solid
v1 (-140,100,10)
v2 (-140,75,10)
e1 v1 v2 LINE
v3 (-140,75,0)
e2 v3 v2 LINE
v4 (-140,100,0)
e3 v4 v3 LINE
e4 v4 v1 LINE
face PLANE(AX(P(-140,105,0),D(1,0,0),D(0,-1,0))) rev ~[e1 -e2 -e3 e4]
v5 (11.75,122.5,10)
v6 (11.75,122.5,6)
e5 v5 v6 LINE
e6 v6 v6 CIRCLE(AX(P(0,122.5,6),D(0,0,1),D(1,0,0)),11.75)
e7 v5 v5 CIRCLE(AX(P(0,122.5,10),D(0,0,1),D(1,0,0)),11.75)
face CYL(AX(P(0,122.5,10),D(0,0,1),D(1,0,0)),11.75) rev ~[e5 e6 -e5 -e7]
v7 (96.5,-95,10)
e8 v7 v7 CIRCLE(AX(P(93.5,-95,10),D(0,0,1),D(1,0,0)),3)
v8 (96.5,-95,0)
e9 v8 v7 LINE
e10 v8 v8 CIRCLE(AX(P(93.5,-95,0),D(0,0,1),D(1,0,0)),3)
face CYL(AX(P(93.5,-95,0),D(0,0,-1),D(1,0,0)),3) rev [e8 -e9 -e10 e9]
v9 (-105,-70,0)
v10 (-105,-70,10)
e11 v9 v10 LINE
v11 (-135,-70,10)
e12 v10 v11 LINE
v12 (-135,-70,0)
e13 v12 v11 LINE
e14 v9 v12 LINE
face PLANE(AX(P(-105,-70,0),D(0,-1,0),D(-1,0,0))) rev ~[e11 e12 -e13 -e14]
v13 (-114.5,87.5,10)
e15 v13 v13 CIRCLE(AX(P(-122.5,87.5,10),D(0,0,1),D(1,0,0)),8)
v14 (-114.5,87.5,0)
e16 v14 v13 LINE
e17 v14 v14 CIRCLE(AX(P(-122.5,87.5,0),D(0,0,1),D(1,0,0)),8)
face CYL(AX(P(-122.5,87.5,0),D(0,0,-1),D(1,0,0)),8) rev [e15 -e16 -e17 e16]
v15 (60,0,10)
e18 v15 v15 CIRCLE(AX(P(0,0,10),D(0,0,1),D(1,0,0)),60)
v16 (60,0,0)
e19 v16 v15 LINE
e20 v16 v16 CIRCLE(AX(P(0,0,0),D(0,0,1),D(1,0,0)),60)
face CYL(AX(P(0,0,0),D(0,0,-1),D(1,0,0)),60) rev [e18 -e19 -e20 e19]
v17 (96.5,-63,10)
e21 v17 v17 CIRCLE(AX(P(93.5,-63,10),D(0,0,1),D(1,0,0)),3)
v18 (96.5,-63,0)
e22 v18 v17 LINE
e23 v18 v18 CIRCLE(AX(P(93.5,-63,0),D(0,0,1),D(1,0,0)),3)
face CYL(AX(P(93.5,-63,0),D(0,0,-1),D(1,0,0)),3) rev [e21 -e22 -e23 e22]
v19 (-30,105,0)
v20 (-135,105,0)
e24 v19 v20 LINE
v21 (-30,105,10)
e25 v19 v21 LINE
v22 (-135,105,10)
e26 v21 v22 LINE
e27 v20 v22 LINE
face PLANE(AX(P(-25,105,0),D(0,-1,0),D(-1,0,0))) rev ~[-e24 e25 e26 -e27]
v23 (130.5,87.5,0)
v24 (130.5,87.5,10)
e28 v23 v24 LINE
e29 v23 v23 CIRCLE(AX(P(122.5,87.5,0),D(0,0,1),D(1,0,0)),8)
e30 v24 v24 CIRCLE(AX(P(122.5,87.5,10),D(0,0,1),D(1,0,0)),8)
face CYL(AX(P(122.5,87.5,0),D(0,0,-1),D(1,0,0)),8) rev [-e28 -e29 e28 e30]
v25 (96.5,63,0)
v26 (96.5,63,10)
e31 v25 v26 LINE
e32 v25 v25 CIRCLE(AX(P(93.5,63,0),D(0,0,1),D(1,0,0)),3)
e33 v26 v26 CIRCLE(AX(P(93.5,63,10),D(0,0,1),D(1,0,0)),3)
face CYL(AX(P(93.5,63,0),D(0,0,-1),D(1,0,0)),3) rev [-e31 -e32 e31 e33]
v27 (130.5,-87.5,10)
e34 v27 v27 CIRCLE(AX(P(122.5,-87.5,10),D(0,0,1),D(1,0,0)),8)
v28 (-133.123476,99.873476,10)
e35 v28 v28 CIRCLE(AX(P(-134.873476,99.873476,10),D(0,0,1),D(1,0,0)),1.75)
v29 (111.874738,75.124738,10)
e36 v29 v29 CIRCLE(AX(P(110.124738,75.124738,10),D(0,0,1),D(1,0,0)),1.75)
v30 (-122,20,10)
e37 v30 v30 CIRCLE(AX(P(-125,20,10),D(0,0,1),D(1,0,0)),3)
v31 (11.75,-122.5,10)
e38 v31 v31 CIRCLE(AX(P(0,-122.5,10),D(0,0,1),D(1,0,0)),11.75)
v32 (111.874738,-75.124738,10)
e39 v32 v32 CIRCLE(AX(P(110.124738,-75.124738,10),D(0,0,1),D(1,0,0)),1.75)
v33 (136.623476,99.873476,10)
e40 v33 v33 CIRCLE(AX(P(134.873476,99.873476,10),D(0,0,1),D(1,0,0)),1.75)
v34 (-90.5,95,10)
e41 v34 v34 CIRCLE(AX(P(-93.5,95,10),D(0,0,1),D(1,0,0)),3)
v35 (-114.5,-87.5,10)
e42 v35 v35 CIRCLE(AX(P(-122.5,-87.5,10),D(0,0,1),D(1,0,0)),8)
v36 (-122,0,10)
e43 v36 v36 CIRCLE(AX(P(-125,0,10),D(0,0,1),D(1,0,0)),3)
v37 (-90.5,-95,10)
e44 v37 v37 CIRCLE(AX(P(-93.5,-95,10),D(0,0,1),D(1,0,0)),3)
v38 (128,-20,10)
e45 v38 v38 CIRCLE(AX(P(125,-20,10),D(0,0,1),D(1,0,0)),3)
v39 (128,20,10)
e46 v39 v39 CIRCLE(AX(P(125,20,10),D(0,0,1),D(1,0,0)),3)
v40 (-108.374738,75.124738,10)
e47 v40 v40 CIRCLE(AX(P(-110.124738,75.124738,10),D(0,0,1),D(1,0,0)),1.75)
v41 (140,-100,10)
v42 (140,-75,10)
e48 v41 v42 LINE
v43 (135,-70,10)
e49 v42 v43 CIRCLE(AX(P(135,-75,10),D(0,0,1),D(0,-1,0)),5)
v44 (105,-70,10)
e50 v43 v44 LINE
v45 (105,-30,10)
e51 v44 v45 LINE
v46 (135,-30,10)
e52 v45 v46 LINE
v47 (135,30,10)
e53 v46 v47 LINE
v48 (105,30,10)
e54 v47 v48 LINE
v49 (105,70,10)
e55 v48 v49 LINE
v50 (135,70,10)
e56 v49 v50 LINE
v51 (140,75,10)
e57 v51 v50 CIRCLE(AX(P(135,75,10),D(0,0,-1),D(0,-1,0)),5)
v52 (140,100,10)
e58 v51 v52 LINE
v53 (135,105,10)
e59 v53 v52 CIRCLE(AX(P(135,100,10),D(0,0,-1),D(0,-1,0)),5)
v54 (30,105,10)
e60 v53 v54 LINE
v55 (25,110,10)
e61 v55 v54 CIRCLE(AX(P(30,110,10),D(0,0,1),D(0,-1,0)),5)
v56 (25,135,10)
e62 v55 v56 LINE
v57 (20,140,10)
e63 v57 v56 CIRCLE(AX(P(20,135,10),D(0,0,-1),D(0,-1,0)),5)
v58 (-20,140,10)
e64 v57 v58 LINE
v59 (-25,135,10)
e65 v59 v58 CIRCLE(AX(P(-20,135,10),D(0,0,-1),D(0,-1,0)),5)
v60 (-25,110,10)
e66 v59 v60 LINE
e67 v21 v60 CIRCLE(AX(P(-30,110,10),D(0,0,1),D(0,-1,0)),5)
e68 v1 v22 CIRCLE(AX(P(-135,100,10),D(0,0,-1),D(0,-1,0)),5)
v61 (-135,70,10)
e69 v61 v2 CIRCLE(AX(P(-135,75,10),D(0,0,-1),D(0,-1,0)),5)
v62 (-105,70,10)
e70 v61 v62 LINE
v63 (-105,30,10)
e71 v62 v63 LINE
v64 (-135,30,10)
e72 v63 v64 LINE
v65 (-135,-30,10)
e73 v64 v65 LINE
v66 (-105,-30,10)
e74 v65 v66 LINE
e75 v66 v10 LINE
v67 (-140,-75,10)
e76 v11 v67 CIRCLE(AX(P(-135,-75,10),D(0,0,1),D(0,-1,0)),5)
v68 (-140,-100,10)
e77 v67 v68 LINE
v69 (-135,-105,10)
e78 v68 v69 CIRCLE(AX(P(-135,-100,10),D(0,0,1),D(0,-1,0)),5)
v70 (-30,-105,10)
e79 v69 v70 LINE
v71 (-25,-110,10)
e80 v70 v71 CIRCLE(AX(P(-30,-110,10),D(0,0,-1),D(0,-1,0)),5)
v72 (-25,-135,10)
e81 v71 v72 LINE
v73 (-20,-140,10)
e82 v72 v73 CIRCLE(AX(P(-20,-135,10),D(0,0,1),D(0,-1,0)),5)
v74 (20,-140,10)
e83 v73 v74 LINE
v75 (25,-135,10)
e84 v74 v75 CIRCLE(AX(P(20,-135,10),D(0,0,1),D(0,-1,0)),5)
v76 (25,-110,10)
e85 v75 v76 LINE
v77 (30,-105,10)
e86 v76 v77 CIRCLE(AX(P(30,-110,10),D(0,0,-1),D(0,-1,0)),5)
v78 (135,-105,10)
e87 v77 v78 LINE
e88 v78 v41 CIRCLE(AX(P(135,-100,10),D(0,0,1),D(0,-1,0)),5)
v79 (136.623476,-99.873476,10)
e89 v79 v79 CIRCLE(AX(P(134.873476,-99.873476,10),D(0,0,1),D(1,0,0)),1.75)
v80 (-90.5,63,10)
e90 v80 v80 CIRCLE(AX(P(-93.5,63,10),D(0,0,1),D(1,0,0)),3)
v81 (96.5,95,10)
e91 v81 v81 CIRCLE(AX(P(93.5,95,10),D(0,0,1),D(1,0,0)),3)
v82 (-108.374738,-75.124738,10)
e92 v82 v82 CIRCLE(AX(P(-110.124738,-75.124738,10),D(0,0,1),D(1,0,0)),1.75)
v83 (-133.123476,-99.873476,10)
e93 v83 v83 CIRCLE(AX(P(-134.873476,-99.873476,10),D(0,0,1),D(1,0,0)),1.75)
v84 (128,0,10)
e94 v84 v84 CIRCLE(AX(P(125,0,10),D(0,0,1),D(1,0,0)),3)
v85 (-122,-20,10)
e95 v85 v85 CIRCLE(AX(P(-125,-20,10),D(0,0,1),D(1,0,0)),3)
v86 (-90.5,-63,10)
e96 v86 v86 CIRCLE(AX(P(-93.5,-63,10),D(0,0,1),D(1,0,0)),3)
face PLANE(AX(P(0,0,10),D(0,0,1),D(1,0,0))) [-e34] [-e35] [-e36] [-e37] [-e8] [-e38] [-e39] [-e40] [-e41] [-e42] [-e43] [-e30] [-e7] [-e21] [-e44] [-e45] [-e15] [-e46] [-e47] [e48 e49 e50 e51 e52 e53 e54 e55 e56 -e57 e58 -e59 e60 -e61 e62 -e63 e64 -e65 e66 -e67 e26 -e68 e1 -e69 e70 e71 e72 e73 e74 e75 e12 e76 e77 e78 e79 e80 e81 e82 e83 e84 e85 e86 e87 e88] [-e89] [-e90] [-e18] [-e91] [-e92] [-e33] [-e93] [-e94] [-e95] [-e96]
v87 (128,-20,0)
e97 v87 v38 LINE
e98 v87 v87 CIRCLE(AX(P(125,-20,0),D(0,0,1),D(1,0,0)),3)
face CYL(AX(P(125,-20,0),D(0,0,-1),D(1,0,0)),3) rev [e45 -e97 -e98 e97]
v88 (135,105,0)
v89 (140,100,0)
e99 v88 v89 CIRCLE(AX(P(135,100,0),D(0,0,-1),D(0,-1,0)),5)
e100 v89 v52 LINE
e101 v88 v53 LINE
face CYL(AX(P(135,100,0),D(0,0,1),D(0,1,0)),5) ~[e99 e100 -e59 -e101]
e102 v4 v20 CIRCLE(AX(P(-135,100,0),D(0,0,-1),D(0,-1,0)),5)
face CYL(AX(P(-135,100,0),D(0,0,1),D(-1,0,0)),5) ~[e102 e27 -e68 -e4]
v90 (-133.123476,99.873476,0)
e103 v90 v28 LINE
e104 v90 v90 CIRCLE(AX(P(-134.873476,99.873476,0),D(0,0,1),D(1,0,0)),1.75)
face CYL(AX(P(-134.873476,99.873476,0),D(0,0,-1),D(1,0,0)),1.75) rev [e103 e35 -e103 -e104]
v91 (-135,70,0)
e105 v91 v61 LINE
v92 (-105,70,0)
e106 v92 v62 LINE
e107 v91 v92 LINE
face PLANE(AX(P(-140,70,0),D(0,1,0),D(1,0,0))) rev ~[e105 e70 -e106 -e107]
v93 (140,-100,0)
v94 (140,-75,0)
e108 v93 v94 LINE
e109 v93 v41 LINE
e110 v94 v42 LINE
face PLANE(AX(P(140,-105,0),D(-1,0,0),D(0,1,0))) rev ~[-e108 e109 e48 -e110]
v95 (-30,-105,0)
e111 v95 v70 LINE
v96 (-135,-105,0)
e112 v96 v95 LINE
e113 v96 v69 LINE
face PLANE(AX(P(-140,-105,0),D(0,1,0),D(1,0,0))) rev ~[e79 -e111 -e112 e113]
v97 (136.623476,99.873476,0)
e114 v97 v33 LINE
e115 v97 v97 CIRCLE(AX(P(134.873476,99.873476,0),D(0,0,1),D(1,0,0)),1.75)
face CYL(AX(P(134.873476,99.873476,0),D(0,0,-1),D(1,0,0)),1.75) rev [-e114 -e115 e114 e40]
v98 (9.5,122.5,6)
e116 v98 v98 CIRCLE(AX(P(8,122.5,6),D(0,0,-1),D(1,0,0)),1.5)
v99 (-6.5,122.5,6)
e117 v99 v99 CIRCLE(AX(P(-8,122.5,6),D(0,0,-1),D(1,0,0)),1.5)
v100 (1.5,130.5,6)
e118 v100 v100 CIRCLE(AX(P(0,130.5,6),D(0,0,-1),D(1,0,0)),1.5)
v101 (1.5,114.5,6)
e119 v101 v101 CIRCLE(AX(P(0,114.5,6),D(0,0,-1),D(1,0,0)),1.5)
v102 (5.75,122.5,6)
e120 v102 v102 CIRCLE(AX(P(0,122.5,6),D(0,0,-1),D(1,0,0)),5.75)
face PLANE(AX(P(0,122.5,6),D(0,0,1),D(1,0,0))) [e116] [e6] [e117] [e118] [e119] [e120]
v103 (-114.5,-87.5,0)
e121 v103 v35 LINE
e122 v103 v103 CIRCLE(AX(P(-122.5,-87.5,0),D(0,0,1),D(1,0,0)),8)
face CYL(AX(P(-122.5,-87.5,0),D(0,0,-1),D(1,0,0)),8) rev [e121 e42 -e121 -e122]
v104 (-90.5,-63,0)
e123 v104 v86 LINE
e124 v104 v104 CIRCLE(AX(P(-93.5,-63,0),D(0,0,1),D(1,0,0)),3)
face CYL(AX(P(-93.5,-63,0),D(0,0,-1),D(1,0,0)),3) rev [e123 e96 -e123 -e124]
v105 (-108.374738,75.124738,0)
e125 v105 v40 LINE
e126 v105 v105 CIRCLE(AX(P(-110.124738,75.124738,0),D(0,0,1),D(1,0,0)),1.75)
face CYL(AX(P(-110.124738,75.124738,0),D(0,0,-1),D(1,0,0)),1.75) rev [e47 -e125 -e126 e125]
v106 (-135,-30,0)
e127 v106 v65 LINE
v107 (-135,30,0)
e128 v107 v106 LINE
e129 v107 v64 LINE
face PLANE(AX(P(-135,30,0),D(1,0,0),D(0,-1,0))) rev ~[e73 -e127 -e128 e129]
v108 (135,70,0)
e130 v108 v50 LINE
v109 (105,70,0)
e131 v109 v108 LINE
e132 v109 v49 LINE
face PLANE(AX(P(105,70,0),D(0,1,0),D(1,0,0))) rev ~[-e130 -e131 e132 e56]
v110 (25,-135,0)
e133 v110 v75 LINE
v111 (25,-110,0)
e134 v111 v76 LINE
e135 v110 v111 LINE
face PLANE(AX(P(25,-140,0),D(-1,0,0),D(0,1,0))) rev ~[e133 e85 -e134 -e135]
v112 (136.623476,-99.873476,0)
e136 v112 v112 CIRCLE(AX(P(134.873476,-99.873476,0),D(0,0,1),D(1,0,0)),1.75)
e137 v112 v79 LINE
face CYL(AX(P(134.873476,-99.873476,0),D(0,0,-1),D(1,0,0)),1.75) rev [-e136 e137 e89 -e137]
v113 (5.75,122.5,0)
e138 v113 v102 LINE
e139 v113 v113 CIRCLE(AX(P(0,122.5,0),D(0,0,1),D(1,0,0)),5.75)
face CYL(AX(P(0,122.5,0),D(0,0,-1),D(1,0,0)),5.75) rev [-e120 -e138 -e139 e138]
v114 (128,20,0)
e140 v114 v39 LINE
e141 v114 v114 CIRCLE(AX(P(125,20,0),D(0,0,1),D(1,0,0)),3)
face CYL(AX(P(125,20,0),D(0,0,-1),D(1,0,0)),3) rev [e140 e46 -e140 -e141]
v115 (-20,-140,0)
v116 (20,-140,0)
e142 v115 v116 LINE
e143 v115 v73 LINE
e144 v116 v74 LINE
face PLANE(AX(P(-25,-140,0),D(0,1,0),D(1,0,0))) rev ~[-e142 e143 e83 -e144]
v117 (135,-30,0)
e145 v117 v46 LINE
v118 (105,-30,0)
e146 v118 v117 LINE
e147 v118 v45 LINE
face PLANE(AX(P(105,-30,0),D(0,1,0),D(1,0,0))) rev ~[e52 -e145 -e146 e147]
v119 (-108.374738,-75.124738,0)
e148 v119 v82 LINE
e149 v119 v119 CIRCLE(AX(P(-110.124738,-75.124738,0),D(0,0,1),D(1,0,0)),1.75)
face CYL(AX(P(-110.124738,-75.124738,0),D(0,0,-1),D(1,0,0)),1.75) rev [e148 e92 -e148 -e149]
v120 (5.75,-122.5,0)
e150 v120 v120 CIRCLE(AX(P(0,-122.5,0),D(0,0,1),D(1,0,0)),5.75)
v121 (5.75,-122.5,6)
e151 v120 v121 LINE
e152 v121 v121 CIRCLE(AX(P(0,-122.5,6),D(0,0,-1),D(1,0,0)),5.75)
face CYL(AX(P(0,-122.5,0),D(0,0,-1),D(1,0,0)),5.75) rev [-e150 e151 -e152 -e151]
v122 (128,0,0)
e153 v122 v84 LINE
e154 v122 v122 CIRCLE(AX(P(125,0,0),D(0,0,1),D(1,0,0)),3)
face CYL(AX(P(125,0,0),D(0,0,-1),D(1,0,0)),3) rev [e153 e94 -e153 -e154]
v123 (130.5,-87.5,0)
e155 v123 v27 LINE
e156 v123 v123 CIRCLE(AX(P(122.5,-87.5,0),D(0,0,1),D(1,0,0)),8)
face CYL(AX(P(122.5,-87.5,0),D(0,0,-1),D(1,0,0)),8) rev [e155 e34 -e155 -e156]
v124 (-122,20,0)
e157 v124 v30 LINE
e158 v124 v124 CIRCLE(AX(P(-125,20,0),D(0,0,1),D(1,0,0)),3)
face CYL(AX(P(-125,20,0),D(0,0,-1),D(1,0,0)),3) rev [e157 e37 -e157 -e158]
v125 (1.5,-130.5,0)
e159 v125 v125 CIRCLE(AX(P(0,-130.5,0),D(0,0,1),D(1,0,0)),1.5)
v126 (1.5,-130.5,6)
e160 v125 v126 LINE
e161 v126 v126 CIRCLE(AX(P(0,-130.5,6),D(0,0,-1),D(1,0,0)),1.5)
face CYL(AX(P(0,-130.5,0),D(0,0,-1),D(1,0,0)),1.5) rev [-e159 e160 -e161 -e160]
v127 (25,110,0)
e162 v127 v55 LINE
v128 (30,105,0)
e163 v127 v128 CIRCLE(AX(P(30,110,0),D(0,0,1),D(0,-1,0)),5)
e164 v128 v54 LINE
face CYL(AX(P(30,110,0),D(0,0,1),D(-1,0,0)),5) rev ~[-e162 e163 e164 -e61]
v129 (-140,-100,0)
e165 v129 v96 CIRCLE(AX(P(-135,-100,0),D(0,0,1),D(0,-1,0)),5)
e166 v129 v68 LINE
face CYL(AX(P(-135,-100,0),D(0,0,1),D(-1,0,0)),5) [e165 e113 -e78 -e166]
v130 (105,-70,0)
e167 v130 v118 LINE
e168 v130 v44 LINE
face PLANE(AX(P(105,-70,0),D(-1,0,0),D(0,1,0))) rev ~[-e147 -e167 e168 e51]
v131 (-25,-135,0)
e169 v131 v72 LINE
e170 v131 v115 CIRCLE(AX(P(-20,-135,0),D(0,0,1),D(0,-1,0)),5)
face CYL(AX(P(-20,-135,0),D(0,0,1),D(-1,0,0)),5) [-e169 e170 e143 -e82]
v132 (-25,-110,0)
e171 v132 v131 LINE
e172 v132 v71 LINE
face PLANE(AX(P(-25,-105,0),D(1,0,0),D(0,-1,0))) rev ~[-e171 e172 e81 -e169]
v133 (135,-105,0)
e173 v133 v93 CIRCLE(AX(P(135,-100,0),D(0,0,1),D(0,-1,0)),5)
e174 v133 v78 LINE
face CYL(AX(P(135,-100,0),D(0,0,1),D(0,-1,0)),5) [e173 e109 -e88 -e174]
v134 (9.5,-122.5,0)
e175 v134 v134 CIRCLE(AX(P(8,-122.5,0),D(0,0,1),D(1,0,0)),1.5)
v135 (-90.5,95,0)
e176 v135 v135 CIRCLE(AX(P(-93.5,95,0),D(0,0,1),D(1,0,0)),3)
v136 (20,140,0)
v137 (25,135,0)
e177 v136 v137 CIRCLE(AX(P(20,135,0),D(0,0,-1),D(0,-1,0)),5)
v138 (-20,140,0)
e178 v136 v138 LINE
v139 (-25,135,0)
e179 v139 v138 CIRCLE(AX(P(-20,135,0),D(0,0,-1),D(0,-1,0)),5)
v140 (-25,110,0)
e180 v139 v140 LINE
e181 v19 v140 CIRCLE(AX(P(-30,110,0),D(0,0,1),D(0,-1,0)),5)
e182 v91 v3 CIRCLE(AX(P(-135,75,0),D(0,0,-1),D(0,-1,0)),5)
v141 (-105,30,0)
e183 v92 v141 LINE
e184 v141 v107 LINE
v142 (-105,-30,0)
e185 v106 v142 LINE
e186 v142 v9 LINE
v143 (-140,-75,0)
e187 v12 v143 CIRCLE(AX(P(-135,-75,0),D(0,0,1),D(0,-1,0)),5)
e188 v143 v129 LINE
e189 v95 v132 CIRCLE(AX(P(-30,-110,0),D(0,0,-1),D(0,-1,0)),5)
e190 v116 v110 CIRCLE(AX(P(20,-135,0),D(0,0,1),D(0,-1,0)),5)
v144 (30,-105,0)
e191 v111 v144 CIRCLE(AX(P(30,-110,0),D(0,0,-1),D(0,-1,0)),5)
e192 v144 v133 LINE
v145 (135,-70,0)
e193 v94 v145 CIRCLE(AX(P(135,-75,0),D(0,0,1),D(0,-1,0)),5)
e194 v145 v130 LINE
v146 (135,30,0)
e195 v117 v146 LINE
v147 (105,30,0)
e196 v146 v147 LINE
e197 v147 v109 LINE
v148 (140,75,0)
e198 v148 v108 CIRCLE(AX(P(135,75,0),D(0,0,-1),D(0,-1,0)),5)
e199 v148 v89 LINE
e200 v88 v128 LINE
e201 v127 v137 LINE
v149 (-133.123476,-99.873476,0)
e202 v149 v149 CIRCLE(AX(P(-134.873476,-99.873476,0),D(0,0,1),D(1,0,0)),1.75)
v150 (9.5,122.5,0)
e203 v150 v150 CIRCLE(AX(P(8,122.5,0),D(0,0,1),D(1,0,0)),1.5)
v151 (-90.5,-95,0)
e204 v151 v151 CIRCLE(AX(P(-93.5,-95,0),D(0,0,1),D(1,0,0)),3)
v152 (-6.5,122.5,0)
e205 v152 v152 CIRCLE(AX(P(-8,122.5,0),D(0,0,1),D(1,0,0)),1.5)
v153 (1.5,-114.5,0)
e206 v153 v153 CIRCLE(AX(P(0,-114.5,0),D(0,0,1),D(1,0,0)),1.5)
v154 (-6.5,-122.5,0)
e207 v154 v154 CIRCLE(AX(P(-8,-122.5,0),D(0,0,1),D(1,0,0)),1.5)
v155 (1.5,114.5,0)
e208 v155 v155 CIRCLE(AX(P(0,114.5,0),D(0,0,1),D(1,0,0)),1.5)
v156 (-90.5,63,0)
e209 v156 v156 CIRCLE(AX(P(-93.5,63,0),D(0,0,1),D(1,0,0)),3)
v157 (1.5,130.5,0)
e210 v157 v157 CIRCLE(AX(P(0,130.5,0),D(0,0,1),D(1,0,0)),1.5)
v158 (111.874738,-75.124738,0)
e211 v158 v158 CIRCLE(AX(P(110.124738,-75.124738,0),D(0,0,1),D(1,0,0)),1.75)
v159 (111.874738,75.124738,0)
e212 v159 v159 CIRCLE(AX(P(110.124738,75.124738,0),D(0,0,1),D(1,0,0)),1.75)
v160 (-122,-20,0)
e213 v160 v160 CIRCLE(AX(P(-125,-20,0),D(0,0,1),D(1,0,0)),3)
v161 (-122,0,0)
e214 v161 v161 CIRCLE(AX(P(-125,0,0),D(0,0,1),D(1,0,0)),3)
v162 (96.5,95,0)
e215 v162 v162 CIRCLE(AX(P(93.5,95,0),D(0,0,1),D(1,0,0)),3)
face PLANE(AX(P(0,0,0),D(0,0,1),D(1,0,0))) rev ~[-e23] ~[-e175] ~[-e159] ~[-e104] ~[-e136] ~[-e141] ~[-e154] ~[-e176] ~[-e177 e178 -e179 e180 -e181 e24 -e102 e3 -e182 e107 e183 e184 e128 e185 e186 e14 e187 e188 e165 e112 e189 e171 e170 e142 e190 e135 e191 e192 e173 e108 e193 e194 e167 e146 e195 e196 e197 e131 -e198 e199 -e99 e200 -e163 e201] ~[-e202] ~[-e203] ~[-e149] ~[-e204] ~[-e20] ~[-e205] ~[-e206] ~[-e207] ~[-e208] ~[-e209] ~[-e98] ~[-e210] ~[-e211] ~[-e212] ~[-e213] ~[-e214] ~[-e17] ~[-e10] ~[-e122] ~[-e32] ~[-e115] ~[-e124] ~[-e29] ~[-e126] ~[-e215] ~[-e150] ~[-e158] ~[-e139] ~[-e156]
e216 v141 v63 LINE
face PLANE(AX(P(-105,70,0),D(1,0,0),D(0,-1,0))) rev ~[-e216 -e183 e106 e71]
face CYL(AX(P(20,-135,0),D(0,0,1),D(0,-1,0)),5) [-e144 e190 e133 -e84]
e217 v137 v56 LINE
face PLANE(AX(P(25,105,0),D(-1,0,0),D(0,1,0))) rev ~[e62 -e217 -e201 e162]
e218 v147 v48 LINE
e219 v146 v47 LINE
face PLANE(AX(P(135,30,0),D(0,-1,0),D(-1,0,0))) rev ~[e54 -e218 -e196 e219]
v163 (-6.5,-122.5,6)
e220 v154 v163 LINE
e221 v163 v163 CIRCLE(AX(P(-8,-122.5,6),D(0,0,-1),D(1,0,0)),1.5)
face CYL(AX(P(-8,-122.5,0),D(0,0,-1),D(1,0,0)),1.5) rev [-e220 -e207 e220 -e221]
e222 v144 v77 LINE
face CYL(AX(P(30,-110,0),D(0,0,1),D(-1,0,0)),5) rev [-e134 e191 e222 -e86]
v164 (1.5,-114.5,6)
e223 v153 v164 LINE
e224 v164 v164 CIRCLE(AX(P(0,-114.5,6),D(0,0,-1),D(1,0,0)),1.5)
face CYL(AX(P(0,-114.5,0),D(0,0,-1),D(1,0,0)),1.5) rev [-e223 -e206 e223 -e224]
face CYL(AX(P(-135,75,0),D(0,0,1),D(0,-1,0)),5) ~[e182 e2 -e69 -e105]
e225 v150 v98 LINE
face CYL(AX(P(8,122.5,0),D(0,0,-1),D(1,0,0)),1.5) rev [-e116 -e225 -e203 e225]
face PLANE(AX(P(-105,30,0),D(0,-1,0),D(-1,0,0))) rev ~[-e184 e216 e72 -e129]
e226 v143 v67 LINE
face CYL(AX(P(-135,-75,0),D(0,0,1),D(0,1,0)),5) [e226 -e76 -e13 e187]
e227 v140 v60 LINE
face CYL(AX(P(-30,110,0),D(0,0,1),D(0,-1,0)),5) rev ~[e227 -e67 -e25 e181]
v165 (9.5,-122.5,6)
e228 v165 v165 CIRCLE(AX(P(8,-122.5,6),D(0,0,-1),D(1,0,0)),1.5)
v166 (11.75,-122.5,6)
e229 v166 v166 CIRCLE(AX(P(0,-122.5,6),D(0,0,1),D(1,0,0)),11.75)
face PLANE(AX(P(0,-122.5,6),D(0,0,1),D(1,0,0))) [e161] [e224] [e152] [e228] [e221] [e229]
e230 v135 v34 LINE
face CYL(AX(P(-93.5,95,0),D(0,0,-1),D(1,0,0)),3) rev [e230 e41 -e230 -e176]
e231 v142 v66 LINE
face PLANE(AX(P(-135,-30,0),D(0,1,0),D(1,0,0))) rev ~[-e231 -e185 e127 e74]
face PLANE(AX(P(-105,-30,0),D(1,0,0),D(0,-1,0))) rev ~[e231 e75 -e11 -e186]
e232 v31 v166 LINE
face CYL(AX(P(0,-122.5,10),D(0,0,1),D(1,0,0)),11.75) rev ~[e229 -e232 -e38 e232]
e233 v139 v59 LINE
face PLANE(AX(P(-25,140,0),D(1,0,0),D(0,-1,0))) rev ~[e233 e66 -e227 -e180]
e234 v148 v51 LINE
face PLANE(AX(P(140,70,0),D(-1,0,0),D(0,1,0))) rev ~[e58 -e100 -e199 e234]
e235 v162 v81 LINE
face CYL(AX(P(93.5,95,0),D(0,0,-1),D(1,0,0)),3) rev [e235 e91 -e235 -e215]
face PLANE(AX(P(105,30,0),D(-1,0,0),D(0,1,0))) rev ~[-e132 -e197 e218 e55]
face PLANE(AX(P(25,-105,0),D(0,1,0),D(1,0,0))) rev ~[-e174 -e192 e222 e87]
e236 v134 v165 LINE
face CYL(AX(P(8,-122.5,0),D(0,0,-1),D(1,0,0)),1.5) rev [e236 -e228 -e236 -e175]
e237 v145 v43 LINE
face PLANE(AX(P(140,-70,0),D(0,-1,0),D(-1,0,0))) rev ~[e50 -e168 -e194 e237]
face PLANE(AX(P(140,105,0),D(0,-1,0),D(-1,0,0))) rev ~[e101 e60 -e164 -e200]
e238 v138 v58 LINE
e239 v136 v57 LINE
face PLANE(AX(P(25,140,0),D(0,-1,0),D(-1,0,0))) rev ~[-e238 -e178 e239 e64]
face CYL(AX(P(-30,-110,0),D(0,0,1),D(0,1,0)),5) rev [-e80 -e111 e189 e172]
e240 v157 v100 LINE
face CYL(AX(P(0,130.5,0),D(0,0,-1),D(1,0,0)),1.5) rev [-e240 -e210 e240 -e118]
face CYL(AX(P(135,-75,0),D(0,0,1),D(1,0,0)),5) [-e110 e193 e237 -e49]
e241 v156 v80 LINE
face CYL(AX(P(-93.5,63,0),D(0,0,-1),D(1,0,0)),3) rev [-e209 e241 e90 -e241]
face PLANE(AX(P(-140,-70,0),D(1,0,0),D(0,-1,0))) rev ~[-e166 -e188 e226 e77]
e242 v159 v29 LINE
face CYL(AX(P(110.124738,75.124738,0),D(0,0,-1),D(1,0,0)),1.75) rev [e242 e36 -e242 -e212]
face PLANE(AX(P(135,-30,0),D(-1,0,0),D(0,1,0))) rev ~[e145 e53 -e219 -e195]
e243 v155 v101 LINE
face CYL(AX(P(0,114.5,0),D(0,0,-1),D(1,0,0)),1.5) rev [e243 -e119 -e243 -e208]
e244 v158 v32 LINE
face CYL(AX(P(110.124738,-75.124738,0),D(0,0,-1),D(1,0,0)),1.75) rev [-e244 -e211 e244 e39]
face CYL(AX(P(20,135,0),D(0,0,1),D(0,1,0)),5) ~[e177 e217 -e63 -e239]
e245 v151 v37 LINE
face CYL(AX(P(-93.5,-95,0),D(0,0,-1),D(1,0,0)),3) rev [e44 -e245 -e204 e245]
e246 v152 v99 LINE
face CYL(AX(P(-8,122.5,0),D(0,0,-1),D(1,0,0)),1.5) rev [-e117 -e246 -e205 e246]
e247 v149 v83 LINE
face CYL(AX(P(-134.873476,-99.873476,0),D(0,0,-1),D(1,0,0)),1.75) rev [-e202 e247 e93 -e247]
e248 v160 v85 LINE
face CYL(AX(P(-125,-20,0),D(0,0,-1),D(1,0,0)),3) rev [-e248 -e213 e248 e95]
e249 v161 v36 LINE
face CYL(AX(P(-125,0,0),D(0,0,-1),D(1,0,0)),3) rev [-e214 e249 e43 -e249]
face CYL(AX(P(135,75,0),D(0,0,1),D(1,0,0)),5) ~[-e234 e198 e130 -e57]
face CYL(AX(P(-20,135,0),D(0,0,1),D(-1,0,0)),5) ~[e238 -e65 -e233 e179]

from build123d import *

# Parameters (mm, degrees)
SKETCH_R     = 60
SKETCH_R_2   = 3
SKETCH_R_3   = 8
SKETCH_R_4   = 1.75
SKETCH_R_5   = 5.75
SKETCH_R_6   = 1.5
PAD_DEPTH    = 10
SKETCH001_R  = 11.75
POCKET_DEPTH = 4
FILLET_R     = 5


with BuildPart() as part:
    # Sketch → Pad (new body)
    with BuildSketch(Plane.XY):
        Polygon((-105, 70), (-105, 30), (-135, 30), (-135, -30), (-105, -30), (-105, -70), (-140, -70), (-140, -105), (-105, -105), (-25, -105), (-25, -140), (25, -140), (25, -105), (105, -105), (140, -105), (140, -70), (105, -70), (105, -30), (135, -30), (135, 30), (105, 30), (105, 70), (140, 70), (140, 105), (105, 105), (25, 105), (25, 140), (-25, 140), (-25, 105), (-105, 105), (-140, 105), (-140, 70), align=None)
        Circle(SKETCH_R, mode=Mode.SUBTRACT)
        with Locations((93.5, 95)):
            Circle(SKETCH_R_2, mode=Mode.SUBTRACT)
        with Locations((93.5, 63)):
            Circle(SKETCH_R_2, mode=Mode.SUBTRACT)
        with Locations((93.5, -63)):
            Circle(SKETCH_R_2, mode=Mode.SUBTRACT)
        with Locations((93.5, -95)):
            Circle(SKETCH_R_2, mode=Mode.SUBTRACT)
        with Locations((-93.5, -63)):
            Circle(SKETCH_R_2, mode=Mode.SUBTRACT)
        with Locations((-93.5, -95)):
            Circle(SKETCH_R_2, mode=Mode.SUBTRACT)
        with Locations((-93.5, 95)):
            Circle(SKETCH_R_2, mode=Mode.SUBTRACT)
        with Locations((-93.5, 63)):
            Circle(SKETCH_R_2, mode=Mode.SUBTRACT)
        with Locations((122.5, 87.5)):
            Circle(SKETCH_R_3, mode=Mode.SUBTRACT)
        with Locations((122.5, -87.5)):
            Circle(SKETCH_R_3, mode=Mode.SUBTRACT)
        with Locations((-122.5, -87.5)):
            Circle(SKETCH_R_3, mode=Mode.SUBTRACT)
        with Locations((-122.5, 87.5)):
            Circle(SKETCH_R_3, mode=Mode.SUBTRACT)
        with Locations((125, 20)):
            Circle(SKETCH_R_2, mode=Mode.SUBTRACT)
        with Locations((125, 0)):
            Circle(SKETCH_R_2, mode=Mode.SUBTRACT)
        with Locations((125, -20)):
            Circle(SKETCH_R_2, mode=Mode.SUBTRACT)
        with Locations((-125, 20)):
            Circle(SKETCH_R_2, mode=Mode.SUBTRACT)
        with Locations((-125, 0)):
            Circle(SKETCH_R_2, mode=Mode.SUBTRACT)
        with Locations((-125, -20)):
            Circle(SKETCH_R_2, mode=Mode.SUBTRACT)
        with Locations((110.124738, -75.124738)):
            Circle(SKETCH_R_4, mode=Mode.SUBTRACT)
        with Locations((134.873476, -99.873476)):
            Circle(SKETCH_R_4, mode=Mode.SUBTRACT)
        with Locations((110.124738, 75.124738)):
            Circle(SKETCH_R_4, mode=Mode.SUBTRACT)
        with Locations((134.873476, 99.873476)):
            Circle(SKETCH_R_4, mode=Mode.SUBTRACT)
        with Locations((-110.124738, 75.124738)):
            Circle(SKETCH_R_4, mode=Mode.SUBTRACT)
        with Locations((-134.873476, 99.873476)):
            Circle(SKETCH_R_4, mode=Mode.SUBTRACT)
        with Locations((-110.124738, -75.124738)):
            Circle(SKETCH_R_4, mode=Mode.SUBTRACT)
        with Locations((-134.873476, -99.873476)):
            Circle(SKETCH_R_4, mode=Mode.SUBTRACT)
        with Locations((0, 122.5)):
            Circle(SKETCH_R_5, mode=Mode.SUBTRACT)
        with Locations((0, -122.5)):
            Circle(SKETCH_R_5, mode=Mode.SUBTRACT)
        with Locations((8, -122.5)):
            Circle(SKETCH_R_6, mode=Mode.SUBTRACT)
        with Locations((0, -114.5)):
            Circle(SKETCH_R_6, mode=Mode.SUBTRACT)
        with Locations((-8, -122.5)):
            Circle(SKETCH_R_6, mode=Mode.SUBTRACT)
        with Locations((0, -130.5)):
            Circle(SKETCH_R_6, mode=Mode.SUBTRACT)
        with Locations((0, 130.5)):
            Circle(SKETCH_R_6, mode=Mode.SUBTRACT)
        with Locations((8, 122.5)):
            Circle(SKETCH_R_6, mode=Mode.SUBTRACT)
        with Locations((0, 114.5)):
            Circle(SKETCH_R_6, mode=Mode.SUBTRACT)
        with Locations((-8, 122.5)):
            Circle(SKETCH_R_6, mode=Mode.SUBTRACT)
    extrude(amount=PAD_DEPTH)

    # Sketch001 (on Face63 of Pad) → Pocket (cut)
    with BuildSketch(Plane.XY.offset(10)):
        with Locations((0, 122.5)):
            Circle(SKETCH001_R)
        with Locations((0, -122.5)):
            Circle(SKETCH001_R)
    extrude(amount=-POCKET_DEPTH, mode=Mode.SUBTRACT)

    # Fillet
    fillet_edges = [part.edges().sort_by_distance(p)[0] for p in [
        (25, -105, 5),
        (25, -140, 5),
        (-25, -140, 5),
        (-25, -105, 5),
        (-140, -105, 5),
        (-140, -70, 5),
        (-140, 70, 5),
        (-140, 105, 5),
        (-25, 105, 5),
        (-25, 140, 5),
        (25, 140, 5),
        (25, 105, 5),
        (140, 105, 5),
        (140, 70, 5),
        (140, -70, 5),
        (140, -105, 5),
    ]]
    fillet(fillet_edges, radius=FILLET_R)


solid = part.part
